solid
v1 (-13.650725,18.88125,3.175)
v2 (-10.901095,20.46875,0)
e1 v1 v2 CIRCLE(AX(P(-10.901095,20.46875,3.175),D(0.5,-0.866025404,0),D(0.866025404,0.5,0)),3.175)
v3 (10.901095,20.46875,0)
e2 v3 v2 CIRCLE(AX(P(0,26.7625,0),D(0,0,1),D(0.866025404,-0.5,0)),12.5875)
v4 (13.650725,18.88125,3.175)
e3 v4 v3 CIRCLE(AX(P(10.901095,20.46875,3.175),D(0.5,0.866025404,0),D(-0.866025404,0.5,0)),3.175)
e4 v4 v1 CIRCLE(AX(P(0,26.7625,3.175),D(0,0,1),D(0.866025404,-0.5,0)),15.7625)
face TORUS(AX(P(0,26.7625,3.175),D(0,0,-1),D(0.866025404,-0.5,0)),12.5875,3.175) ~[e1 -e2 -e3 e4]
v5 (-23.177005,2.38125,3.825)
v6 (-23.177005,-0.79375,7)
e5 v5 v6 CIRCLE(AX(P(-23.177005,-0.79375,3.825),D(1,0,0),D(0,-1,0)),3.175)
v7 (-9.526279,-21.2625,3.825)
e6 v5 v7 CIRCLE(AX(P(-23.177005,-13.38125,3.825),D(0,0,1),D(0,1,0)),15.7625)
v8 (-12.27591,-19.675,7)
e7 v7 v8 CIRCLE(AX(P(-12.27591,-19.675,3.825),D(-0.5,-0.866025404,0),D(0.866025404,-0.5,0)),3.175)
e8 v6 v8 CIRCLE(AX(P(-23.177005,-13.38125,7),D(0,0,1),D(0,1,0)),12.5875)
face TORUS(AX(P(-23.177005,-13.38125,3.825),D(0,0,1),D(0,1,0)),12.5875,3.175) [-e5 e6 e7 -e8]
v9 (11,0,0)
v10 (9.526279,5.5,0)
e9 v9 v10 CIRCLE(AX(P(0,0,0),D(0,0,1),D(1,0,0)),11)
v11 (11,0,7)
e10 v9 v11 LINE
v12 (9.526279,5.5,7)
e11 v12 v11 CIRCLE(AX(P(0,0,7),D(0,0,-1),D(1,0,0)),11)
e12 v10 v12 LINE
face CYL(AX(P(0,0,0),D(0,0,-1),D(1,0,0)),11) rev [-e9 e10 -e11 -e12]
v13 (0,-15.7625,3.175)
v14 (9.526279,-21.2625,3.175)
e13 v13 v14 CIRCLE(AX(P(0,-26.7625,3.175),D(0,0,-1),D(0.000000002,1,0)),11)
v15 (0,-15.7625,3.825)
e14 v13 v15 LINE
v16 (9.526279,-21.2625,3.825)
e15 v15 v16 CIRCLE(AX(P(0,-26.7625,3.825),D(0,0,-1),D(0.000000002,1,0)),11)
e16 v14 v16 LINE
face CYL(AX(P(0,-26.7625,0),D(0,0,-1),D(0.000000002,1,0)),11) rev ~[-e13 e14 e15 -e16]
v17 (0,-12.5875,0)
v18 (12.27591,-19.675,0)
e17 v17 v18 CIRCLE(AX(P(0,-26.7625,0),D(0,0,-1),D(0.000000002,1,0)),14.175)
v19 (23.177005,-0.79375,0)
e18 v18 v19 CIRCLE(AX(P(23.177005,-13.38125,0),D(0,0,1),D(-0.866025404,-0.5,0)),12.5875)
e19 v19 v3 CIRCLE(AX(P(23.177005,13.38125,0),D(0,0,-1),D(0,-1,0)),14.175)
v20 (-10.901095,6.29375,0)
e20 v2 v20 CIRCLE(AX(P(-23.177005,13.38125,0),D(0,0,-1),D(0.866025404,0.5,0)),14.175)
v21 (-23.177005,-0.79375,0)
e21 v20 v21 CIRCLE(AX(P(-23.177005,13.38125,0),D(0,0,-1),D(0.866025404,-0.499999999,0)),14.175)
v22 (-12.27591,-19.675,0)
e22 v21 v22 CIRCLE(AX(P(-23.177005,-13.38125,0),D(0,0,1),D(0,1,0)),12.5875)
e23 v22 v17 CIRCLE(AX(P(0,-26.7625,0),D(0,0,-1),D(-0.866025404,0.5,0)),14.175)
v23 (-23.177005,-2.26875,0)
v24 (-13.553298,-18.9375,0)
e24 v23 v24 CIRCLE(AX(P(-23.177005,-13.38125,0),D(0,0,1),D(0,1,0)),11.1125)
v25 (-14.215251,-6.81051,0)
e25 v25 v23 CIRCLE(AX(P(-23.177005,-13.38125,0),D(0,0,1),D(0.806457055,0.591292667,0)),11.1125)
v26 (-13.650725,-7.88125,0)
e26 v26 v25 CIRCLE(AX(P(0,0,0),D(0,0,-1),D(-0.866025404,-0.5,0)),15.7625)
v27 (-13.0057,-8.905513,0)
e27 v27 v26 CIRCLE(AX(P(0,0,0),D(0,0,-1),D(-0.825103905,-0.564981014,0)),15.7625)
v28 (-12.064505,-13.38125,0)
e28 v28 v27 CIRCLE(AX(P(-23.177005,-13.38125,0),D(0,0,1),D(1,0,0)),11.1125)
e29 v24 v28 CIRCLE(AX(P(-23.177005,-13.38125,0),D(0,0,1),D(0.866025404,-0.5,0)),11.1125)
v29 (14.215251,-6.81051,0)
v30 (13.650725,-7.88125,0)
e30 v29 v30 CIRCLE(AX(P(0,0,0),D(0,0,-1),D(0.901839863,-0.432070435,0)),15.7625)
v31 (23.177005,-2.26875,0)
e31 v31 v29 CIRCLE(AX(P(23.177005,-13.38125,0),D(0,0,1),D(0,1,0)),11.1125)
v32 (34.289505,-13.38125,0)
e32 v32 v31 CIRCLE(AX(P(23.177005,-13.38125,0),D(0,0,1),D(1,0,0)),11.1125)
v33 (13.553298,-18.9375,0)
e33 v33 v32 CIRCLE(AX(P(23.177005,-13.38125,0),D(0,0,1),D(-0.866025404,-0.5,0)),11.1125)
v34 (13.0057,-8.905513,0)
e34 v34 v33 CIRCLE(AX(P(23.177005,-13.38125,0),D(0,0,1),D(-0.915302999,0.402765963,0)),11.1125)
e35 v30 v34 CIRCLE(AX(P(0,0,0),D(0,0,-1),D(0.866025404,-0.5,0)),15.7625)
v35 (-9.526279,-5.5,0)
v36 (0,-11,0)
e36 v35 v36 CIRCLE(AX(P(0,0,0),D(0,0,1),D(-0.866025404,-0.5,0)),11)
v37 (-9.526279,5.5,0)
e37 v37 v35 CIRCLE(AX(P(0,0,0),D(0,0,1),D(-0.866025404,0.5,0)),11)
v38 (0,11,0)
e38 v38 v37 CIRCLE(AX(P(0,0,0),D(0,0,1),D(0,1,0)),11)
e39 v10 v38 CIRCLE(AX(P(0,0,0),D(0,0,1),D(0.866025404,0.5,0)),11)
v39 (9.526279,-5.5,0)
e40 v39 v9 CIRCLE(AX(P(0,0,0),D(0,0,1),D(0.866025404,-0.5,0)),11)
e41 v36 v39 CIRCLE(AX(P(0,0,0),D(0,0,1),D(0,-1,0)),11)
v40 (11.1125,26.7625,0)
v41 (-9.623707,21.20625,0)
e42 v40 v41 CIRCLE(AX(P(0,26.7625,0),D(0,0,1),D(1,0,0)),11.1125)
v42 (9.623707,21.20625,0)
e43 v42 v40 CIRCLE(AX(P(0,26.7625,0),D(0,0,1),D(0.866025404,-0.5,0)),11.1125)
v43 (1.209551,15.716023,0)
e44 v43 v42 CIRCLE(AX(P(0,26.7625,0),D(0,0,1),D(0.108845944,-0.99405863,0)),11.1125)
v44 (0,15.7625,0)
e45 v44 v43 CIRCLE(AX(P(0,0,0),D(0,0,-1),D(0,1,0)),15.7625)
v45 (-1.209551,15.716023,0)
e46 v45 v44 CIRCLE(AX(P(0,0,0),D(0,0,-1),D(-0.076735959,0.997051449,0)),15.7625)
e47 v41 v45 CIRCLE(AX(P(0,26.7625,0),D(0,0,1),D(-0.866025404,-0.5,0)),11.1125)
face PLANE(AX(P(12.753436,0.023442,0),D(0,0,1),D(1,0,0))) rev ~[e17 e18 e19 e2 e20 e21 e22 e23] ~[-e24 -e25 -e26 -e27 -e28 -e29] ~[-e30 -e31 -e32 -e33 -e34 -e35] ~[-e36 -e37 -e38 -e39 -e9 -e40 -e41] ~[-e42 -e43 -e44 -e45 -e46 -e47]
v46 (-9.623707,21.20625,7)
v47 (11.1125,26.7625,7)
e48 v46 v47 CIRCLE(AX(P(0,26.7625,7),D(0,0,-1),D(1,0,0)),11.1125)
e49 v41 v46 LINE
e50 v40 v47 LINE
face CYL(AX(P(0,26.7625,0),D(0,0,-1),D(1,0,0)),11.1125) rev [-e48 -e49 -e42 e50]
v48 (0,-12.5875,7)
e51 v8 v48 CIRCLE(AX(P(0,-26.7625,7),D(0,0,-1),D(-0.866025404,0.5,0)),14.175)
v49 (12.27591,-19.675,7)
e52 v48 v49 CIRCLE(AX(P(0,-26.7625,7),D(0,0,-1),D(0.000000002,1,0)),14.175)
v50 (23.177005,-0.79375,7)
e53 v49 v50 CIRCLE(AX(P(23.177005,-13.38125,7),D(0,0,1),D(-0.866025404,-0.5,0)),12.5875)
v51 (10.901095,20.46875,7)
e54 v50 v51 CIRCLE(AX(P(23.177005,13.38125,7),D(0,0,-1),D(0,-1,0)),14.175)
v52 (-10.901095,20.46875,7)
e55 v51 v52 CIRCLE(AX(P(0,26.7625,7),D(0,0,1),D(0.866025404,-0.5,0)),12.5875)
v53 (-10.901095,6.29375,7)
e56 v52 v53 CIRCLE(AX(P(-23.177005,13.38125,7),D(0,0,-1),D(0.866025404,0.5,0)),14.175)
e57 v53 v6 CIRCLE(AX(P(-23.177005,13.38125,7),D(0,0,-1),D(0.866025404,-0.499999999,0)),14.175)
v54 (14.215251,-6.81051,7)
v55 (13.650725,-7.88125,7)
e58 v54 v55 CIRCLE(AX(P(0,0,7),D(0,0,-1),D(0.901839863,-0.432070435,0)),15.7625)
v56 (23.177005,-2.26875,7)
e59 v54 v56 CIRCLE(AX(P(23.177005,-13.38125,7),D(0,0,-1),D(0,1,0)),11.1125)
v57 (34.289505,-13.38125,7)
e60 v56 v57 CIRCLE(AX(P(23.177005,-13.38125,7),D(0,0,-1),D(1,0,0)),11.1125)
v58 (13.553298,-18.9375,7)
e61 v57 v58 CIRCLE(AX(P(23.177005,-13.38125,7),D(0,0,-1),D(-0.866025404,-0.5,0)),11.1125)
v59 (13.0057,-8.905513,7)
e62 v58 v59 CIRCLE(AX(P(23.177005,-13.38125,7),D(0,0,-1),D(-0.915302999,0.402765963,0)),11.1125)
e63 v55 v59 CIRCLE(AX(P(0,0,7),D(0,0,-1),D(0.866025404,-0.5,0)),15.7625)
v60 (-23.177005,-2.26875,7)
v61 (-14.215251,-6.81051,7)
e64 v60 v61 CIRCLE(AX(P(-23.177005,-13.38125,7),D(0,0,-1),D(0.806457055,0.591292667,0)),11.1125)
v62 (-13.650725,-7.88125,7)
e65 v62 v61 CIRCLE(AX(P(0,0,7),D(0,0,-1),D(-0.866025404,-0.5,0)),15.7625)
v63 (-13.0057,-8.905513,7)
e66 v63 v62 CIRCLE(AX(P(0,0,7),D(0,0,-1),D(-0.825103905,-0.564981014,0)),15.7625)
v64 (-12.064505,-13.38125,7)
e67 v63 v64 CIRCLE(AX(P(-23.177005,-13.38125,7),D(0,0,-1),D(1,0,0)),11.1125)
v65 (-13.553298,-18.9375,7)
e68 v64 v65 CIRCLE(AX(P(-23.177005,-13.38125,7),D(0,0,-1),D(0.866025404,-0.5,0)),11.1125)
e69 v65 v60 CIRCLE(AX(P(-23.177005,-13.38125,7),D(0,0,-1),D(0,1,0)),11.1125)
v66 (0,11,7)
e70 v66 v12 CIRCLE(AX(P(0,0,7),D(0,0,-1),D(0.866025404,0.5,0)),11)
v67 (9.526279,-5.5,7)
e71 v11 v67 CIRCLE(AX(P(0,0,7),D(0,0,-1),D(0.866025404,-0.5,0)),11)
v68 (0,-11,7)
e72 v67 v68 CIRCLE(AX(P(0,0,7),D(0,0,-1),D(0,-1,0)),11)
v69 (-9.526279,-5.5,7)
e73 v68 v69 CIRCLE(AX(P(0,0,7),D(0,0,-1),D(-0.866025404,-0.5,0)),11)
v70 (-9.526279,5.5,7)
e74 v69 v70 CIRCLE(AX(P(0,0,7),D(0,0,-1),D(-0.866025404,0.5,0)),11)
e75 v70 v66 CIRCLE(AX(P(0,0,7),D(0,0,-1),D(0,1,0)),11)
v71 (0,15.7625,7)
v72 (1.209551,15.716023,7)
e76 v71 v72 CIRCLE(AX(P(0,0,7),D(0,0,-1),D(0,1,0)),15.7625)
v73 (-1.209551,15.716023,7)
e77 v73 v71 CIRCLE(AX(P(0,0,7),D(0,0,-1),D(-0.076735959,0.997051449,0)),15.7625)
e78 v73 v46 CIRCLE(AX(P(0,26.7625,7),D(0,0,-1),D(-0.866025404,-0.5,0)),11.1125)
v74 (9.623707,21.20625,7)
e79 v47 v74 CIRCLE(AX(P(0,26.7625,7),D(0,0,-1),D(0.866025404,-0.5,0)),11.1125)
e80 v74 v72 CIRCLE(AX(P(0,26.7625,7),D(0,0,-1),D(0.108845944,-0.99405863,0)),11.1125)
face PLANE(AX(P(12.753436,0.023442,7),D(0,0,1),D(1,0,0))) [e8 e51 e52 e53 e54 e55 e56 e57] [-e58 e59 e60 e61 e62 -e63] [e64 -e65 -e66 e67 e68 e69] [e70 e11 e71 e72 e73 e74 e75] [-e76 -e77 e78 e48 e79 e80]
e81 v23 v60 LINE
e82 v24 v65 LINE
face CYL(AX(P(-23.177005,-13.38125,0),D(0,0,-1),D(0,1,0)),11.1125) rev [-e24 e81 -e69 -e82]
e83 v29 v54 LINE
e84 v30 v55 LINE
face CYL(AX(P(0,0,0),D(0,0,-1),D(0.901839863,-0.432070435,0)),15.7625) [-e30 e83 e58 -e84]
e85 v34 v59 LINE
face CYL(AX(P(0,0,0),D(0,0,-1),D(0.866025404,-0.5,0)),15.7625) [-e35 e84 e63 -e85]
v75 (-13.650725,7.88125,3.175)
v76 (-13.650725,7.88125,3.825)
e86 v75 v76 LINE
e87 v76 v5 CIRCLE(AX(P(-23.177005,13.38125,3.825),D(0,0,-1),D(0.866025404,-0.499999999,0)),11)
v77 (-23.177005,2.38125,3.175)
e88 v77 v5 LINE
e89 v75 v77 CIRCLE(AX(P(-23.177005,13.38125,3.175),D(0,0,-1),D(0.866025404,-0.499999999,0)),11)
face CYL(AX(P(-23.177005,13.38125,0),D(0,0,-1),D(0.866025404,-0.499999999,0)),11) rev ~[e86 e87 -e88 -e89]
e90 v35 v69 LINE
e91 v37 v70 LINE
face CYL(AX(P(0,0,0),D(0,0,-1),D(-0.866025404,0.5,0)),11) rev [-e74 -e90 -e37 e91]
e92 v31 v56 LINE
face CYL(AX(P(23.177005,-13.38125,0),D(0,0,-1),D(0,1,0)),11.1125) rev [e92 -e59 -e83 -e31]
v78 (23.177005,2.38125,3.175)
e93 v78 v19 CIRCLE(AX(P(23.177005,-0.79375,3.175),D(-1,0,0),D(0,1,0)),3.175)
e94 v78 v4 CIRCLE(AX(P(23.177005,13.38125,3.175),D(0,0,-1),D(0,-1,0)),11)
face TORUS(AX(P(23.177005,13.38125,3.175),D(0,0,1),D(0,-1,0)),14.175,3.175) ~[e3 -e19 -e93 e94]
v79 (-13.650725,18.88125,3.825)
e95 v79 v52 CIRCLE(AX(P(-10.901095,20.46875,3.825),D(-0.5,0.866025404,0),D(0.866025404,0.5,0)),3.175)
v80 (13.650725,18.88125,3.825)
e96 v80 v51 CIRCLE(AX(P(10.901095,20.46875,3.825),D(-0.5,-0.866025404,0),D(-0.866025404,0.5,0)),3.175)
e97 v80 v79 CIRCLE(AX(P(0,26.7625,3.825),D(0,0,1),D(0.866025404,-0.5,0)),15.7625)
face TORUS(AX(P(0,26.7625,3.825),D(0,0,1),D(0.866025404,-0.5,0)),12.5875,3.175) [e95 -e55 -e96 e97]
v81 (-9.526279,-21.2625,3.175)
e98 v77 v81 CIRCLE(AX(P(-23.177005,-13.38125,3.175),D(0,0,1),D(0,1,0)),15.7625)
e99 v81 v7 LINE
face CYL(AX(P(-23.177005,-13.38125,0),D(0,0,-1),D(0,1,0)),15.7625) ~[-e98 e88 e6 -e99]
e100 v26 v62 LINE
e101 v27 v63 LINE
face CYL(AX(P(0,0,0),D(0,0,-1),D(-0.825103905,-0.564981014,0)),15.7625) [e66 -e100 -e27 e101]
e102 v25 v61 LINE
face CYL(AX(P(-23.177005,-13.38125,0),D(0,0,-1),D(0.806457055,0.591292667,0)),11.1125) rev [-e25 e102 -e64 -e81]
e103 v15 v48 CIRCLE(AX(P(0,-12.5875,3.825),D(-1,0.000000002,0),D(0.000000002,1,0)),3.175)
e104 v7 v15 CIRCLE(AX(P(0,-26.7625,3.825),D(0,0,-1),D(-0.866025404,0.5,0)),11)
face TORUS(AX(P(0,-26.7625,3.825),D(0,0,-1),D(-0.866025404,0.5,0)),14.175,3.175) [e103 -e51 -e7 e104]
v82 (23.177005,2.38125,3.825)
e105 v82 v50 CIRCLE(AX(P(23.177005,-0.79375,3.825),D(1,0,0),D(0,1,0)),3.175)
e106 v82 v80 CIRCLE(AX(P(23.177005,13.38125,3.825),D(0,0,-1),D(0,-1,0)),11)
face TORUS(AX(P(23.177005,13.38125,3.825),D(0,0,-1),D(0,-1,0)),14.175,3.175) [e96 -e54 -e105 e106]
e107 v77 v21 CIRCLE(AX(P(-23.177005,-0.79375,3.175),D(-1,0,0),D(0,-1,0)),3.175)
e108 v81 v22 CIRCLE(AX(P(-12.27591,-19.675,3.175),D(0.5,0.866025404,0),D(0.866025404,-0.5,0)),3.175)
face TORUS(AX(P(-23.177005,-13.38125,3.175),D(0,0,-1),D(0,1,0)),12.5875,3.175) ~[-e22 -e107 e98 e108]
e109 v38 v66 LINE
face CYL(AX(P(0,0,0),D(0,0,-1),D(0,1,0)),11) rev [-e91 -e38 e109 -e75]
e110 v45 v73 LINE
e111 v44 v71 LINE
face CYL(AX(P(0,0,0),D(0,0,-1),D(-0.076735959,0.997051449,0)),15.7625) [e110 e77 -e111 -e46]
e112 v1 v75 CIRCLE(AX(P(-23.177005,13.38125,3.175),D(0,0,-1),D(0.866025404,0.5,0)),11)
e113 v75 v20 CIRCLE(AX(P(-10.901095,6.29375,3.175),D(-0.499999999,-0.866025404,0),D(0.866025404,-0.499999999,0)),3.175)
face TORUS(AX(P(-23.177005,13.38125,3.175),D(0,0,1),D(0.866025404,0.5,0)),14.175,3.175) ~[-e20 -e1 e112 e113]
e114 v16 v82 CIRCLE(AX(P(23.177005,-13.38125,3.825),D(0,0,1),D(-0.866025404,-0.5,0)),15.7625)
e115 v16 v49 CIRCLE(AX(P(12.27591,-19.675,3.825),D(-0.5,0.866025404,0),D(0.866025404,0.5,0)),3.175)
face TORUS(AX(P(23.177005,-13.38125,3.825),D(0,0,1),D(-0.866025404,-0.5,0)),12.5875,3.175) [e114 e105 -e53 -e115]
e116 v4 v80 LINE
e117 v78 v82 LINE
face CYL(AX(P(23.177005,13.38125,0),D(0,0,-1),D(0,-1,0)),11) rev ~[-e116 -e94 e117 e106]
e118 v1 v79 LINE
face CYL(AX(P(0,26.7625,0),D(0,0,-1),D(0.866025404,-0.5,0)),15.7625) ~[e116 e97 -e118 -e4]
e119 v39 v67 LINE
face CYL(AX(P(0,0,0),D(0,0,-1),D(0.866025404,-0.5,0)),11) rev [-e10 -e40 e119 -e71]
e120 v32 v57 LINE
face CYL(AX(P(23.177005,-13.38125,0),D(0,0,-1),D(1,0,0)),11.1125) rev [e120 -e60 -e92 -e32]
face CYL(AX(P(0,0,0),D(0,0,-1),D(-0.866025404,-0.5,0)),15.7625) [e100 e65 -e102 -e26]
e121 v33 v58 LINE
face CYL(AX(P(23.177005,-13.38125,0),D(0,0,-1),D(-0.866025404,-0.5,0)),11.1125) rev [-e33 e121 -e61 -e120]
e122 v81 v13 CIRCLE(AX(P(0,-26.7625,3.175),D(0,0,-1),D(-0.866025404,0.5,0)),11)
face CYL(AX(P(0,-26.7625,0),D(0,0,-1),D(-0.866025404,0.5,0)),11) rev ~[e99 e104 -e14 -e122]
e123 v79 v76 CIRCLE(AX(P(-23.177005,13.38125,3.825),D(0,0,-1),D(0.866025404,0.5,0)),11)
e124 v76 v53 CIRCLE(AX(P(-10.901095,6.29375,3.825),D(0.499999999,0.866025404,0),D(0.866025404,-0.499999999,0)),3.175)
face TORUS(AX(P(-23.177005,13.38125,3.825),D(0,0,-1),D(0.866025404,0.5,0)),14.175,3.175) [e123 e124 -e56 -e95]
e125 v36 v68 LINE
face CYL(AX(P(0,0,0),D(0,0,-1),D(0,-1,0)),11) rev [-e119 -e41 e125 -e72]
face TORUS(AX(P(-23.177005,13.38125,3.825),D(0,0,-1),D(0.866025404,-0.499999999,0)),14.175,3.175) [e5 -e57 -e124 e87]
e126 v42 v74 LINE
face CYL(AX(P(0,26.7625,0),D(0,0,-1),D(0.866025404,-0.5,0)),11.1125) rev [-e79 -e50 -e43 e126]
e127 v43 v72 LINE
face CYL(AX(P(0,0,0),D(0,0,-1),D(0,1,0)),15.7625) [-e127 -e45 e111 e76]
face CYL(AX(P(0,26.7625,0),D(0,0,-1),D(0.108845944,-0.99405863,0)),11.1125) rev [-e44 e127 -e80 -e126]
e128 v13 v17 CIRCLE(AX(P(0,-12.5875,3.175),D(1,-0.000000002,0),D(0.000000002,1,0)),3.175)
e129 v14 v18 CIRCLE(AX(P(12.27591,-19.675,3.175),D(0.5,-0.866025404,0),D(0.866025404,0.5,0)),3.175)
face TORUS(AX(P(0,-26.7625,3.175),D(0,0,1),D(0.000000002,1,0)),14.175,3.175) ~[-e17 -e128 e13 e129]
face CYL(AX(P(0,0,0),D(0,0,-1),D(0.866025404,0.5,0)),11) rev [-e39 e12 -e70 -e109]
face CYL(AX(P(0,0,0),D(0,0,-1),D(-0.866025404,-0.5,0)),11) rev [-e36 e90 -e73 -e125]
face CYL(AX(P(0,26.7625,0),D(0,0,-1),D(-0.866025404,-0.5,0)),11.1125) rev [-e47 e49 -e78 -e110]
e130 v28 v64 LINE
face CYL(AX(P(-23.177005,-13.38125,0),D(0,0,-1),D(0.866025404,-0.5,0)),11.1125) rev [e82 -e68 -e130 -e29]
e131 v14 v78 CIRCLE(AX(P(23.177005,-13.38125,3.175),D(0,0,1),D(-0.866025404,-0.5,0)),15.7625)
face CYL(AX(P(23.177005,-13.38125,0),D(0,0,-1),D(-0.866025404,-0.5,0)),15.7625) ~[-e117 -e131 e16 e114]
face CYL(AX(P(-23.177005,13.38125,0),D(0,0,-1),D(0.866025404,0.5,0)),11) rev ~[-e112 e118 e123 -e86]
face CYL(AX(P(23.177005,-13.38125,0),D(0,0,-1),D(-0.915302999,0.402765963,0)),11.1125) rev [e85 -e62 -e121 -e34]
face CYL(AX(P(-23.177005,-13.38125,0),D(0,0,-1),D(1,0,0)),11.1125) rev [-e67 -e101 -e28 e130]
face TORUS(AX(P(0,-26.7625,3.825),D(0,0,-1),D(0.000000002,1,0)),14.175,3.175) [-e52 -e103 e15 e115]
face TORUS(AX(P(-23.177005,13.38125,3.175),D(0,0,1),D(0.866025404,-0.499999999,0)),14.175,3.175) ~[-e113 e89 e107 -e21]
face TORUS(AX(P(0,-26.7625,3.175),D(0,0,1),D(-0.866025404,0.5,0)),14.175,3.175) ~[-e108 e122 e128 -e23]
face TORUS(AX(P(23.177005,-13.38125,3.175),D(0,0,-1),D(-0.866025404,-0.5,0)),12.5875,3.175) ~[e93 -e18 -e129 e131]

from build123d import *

# Parameters (mm, degrees)
F1_DEPTH = 7
F2_R     = 3.175
F3_DEPTH = 7.001


with BuildPart() as f1:
    # F0 (on Top) → F1 (new body)
    with BuildSketch(Plane.XY):
        with BuildLine():
            ThreePointArc((9.5262794416, 5.5), (10.6251840892, 2.8470094961), (11, 0))
            ThreePointArc((11, 0), (10.6251840892, -2.8470094961), (9.5262794416, -5.5))
            Line((9.5262794416, -5.5), (13.5532975692, -7.825))
            ThreePointArc((13.5532975692, -7.825), (13.8704404913, -7.3087286342), (14.2152508461, -6.8105102329))
            ThreePointArc((14.2152508461, -6.8105102329), (15.3708213462, -3.4920276909), (15.7625, 0))
            ThreePointArc((15.7625, 0), (15.7603228949, 0.2619704177), (15.7537921808, 0.5238684691))
            ThreePointArc((15.7537921808, 0.5238684691), (15.1554999741, 4.3321157401), (13.6507254004, 7.8812500464))
            Line((13.6507254272, 7.88125), (9.5262794416, 5.5))
        make_face()
        with BuildLine():
            ThreePointArc((0, 11), (5.5, 9.5262794416), (9.5262794416, 5.5))
            Line((9.5262794416, 5.5), (13.6507254272, 7.88125))
            ThreePointArc((13.6507254004, 7.8812500464), (11.3294722329, 10.9589901531), (8.3305794929, 13.38125))
            ThreePointArc((8.3305794929, 13.38125), (4.9108361907, 14.9779869862), (1.2095505486, 15.7160234703))
            ThreePointArc((1.2095505486, 15.7160234703), (0.6056755791, 15.6665181443), (0, 15.65))
            Line((0, 15.65), (0, 11))
        make_face()
        with BuildLine():
            Line((13.5532975692, -7.825), (9.5262794416, -5.5))
            ThreePointArc((9.5262794416, -5.5), (5.5, -9.5262794416), (0, -11))
            Line((0, -11), (0, -15.7625))
            ThreePointArc((2.65e-08, -15.7625), (3.8260277428, -15.2911058449), (7.4232126879, -13.9051184691))
            ThreePointArc((7.4232126879, -13.9051184691), (10.5158991322, -11.7419023881), (13.0057002975, -8.9055132374))
            ThreePointArc((13.0057002975, -8.9055132374), (13.2647649122, -8.3577895101), (13.5532975692, -7.825))
        make_face()
        with BuildLine():
            ThreePointArc((-9.5262794416, 5.5), (-5.5, 9.5262794416), (0, 11))
            Line((0, 11), (0, 15.65))
            ThreePointArc((0, 15.65), (-0.6056755791, 15.6665181443), (-1.2095505486, 15.7160234703))
            ThreePointArc((-1.2095505486, 15.7160234703), (-4.9108361907, 14.9779869862), (-8.3305794929, 13.38125))
            ThreePointArc((-8.3305794929, 13.38125), (-11.3294722485, 10.9589901369), (-13.6507254229, 7.8812500074))
            Line((-13.6507254272, 7.88125), (-9.5262794416, 5.5))
        make_face()
        with BuildLine():
            ThreePointArc((23.1770048688, 2.38125), (17.6770048456, 3.8549705718), (13.6507254004, 7.8812500464))
            ThreePointArc((13.6507254004, 7.8812500464), (15.1554999741, 4.3321157401), (15.7537921808, 0.5238684691))
            ThreePointArc((15.7537921808, 0.5238684691), (19.3509771388, 1.9098558482), (23.1770048688, 2.38125))
        make_face()
        with BuildLine():
            ThreePointArc((8.3305794929, 13.38125), (11.3294722329, 10.9589901531), (13.6507254004, 7.8812500464))
            ThreePointArc((13.6507254004, 7.8812500464), (12.1770048688, 13.3812500268), (13.6507254272, 18.88125))
            ThreePointArc((13.6507254272, 18.88125), (11.3294722515, 15.8035098662), (8.3305794929, 13.38125))
        make_face()
        with BuildLine():
            Line((0, -15.7625), (0, -11))
            ThreePointArc((0, -11), (-5.5, -9.5262794416), (-9.5262794416, -5.5))
            Line((-9.5262794416, -5.5), (-13.5532975692, -7.825))
            ThreePointArc((-13.5532975692, -7.825), (-13.2647649122, -8.3577895101), (-13.0057002975, -8.9055132374))
            ThreePointArc((-13.0057002975, -8.9055132374), (-10.5158991322, -11.7419023881), (-7.4232126879, -13.9051184691))
            ThreePointArc((-7.4232126879, -13.9051184691), (-3.8260277171, -15.2911058514), (2.65e-08, -15.7625))
        make_face()
        with BuildLine():
            ThreePointArc((-9.5262794416, -5.5), (-11, 0), (-9.5262794416, 5.5))
            Line((-9.5262794416, 5.5), (-13.6507254272, 7.88125))
            ThreePointArc((-13.6507254229, 7.8812500074), (-15.1554999803, 4.3321157185), (-15.7537921808, 0.5238684691))
            ThreePointArc((-15.7537921808, 0.5238684691), (-15.4267353229, -3.2360845981), (-14.2152508461, -6.8105102329))
            ThreePointArc((-14.2152508461, -6.8105102329), (-13.8704404913, -7.3087286342), (-13.5532975692, -7.825))
            Line((-13.5532975692, -7.825), (-9.5262794416, -5.5))
        make_face()
        with BuildLine():
            ThreePointArc((23.1770048688, 2.38125), (19.3509771388, 1.9098558482), (15.7537921808, 0.5238684691))
            ThreePointArc((15.7537921808, 0.5238684691), (15.7603228949, 0.2619704177), (15.7625, 0))
            ThreePointArc((15.7625, 0), (15.3708213462, -3.4920276909), (14.2152508461, -6.8105102329))
            ThreePointArc((14.2152508461, -6.8105102329), (18.1535443788, -3.4690100435), (23.1770048688, -2.26875))
            Line((23.1770048688, -2.26875), (23.1770048688, 2.38125))
        make_face()
        with BuildLine():
            ThreePointArc((1.2095505486, 15.7160234703), (4.9108361907, 14.9779869862), (8.3305794929, 13.38125))
            ThreePointArc((8.3305794929, 13.38125), (11.3294722515, 15.8035098662), (13.6507254272, 18.88125))
            Line((13.6507254272, 18.88125), (9.6237072996, 21.20625))
            ThreePointArc((9.6237072996, 21.20625), (6.0725213658, 17.4559356225), (1.2095505486, 15.7160234703))
        make_face()
        with BuildLine():
            Line((9.6237072996, 21.20625), (13.6507254272, 18.88125))
            ThreePointArc((13.6507254272, 18.88125), (0, 42.525), (-13.6507254272, 18.88125))
            Line((-13.6507254272, 18.88125), (-9.6237072996, 21.20625))
            ThreePointArc((-9.6237072996, 21.20625), (-2.8761266387, 37.4963507446), (11.1125, 26.7625))
            ThreePointArc((11.1125, 26.7625), (10.7338507446, 23.8863733613), (9.6237072996, 21.20625))
        make_face()
        with BuildLine():
            ThreePointArc((9.5262794416, -21.2625), (36.8277302959, -21.2625), (23.1770048688, 2.38125))
            Line((23.1770048688, 2.38125), (23.1770048688, -2.26875))
            ThreePointArc((23.1770048688, -2.26875), (31.0347289747, -5.5235258941), (34.2895048688, -13.38125))
            ThreePointArc((34.2895048688, -13.38125), (26.0531315075, -24.1151007446), (13.5532975692, -18.9375))
            Line((13.5532975692, -18.9375), (9.5262794416, -21.2625))
        make_face()
        with BuildLine():
            ThreePointArc((-9.5262794416, -21.2625), (-5.4999999885, -17.2362205517), (2.65e-08, -15.7625))
            ThreePointArc((2.65e-08, -15.7625), (-3.8260277171, -15.2911058514), (-7.4232126879, -13.9051184691))
            ThreePointArc((-7.4232126879, -13.9051184691), (-8.0215048873, -17.7133657143), (-9.5262794416, -21.2625))
        make_face()
        with BuildLine():
            ThreePointArc((7.4232126879, -13.9051184691), (3.8260277428, -15.2911058449), (2.65e-08, -15.7625))
            ThreePointArc((2.65e-08, -15.7625), (5.5000000115, -17.236220565), (9.5262794416, -21.2625))
            ThreePointArc((9.5262794416, -21.2625), (8.0215048873, -17.7133657143), (7.4232126879, -13.9051184691))
        make_face()
        with BuildLine():
            ThreePointArc((13.5532975692, -18.9375), (12.081023013, -13.9869255791), (13.0057002975, -8.9055132374))
            ThreePointArc((13.0057002975, -8.9055132374), (10.5158991322, -11.7419023881), (7.4232126879, -13.9051184691))
            ThreePointArc((7.4232126879, -13.9051184691), (8.0215048873, -17.7133657143), (9.5262794416, -21.2625))
            Line((9.5262794416, -21.2625), (13.5532975692, -18.9375))
        make_face()
        with BuildLine():
            ThreePointArc((-13.6507254272, 18.88125), (-12.1770048688, 13.3812500043), (-13.6507254229, 7.8812500074))
            ThreePointArc((-13.6507254229, 7.8812500074), (-11.3294722485, 10.9589901369), (-8.3305794929, 13.38125))
            ThreePointArc((-8.3305794929, 13.38125), (-11.3294722515, 15.8035098662), (-13.6507254272, 18.88125))
        make_face()
        with BuildLine():
            ThreePointArc((-15.7537921808, 0.5238684691), (-15.1554999803, 4.3321157185), (-13.6507254229, 7.8812500074))
            ThreePointArc((-13.6507254229, 7.8812500074), (-17.6770048651, 3.8549705605), (-23.1770048688, 2.38125))
            ThreePointArc((-23.1770048688, 2.38125), (-19.3509771388, 1.9098558482), (-15.7537921808, 0.5238684691))
        make_face()
        with BuildLine():
            ThreePointArc((-8.3305794929, 13.38125), (-4.9108361907, 14.9779869862), (-1.2095505486, 15.7160234703))
            ThreePointArc((-1.2095505486, 15.7160234703), (-6.0725213658, 17.4559356225), (-9.6237072996, 21.20625))
            Line((-9.6237072996, 21.20625), (-13.6507254272, 18.88125))
            ThreePointArc((-13.6507254272, 18.88125), (-11.3294722515, 15.8035098662), (-8.3305794929, 13.38125))
        make_face()
        with BuildLine():
            ThreePointArc((-9.5262794416, -21.2625), (-8.0215048873, -17.7133657143), (-7.4232126879, -13.9051184691))
            ThreePointArc((-7.4232126879, -13.9051184691), (-10.5158991322, -11.7419023881), (-13.0057002975, -8.9055132374))
            ThreePointArc((-13.0057002975, -8.9055132374), (-12.3023490513, -11.0944362558), (-12.0645048688, -13.38125))
            ThreePointArc((-12.0645048688, -13.38125), (-12.4431541241, -16.2573766387), (-13.5532975692, -18.9375))
            Line((-13.5532975692, -18.9375), (-9.5262794416, -21.2625))
        make_face()
        with BuildLine():
            ThreePointArc((-23.1770048688, 2.38125), (-36.8277302959, -21.2625), (-9.5262794416, -21.2625))
            Line((-9.5262794416, -21.2625), (-13.5532975692, -18.9375))
            ThreePointArc((-13.5532975692, -18.9375), (-32.8007121683, -18.9375), (-23.1770048688, -2.26875))
            Line((-23.1770048688, -2.26875), (-23.1770048688, 2.38125))
        make_face()
        with BuildLine():
            ThreePointArc((-14.2152508461, -6.8105102329), (-15.4267353229, -3.2360845981), (-15.7537921808, 0.5238684691))
            ThreePointArc((-15.7537921808, 0.5238684691), (-19.3509771388, 1.9098558482), (-23.1770048688, 2.38125))
            Line((-23.1770048688, 2.38125), (-23.1770048688, -2.26875))
            ThreePointArc((-23.1770048688, -2.26875), (-18.1535443788, -3.4690100435), (-14.2152508461, -6.8105102329))
        make_face()
        with BuildLine():
            ThreePointArc((-23.1770048688, -2.26875), (-32.8007121683, -18.9375), (-13.5532975692, -18.9375))
            Line((-13.5532975692, -18.9375), (-23.1770048688, -13.38125))
            Line((-23.1770048688, -13.38125), (-23.1770048688, -2.26875))
        make_face()
        with BuildLine():
            ThreePointArc((-12.0645048688, -13.38125), (-12.3023490513, -11.0944362558), (-13.0057002975, -8.9055132374))
            ThreePointArc((-13.0057002975, -8.9055132374), (-13.3380484666, -8.3995755459), (-13.6507254272, -7.88125))
            Line((-13.6507254272, -7.88125), (-23.1770048688, -13.38125))
            Line((-23.1770048688, -13.38125), (-13.5532975692, -18.9375))
            ThreePointArc((-13.5532975692, -18.9375), (-12.4431541241, -16.2573766387), (-12.0645048688, -13.38125))
        make_face()
        with BuildLine():
            ThreePointArc((34.2895048688, -13.38125), (31.0347289747, -5.5235258941), (23.1770048688, -2.26875))
            Line((23.1770048688, -2.26875), (23.1770048688, -13.38125))
            Line((23.1770048688, -13.38125), (13.5532975692, -18.9375))
            ThreePointArc((13.5532975692, -18.9375), (26.0531315075, -24.1151007446), (34.2895048688, -13.38125))
        make_face()
        with BuildLine():
            ThreePointArc((13.6507254272, -7.88125), (13.3380484666, -8.3995755459), (13.0057002975, -8.9055132374))
            ThreePointArc((13.0057002975, -8.9055132374), (12.081023013, -13.9869255791), (13.5532975692, -18.9375))
            Line((13.5532975692, -18.9375), (23.1770048688, -13.38125))
            Line((23.1770048688, -13.38125), (13.6507254272, -7.88125))
        make_face()
        with BuildLine():
            ThreePointArc((23.1770048688, -2.26875), (18.1535443788, -3.4690100435), (14.2152508461, -6.8105102329))
            ThreePointArc((14.2152508461, -6.8105102329), (13.9432700371, -7.351301036), (13.6507254272, -7.88125))
            Line((13.6507254272, -7.88125), (23.1770048688, -13.38125))
            Line((23.1770048688, -13.38125), (23.1770048688, -2.26875))
        make_face()
        with BuildLine():
            ThreePointArc((-13.6507254272, -7.88125), (-13.9432700371, -7.351301036), (-14.2152508461, -6.8105102329))
            ThreePointArc((-14.2152508461, -6.8105102329), (-18.1535443788, -3.4690100435), (-23.1770048688, -2.26875))
            Line((-23.1770048688, -2.26875), (-23.1770048688, -13.38125))
            Line((-23.1770048688, -13.38125), (-13.6507254272, -7.88125))
        make_face()
        with BuildLine():
            ThreePointArc((0, -11), (5.5, -9.5262794416), (9.5262794416, -5.5))
            Line((9.5262794416, -5.5), (0, 0))
            Line((0, 0), (0, -11))
        make_face()
        with BuildLine():
            Line((0, -11), (0, 0))
            Line((0, 0), (-9.5262794416, -5.5))
            ThreePointArc((-9.5262794416, -5.5), (-5.5, -9.5262794416), (0, -11))
        make_face()
        with BuildLine():
            Line((-9.5262794416, -5.5), (0, 0))
            Line((0, 0), (-9.5262794416, 5.5))
            ThreePointArc((-9.5262794416, 5.5), (-11, 0), (-9.5262794416, -5.5))
        make_face()
        with BuildLine():
            Line((0, 0), (0, 11))
            ThreePointArc((0, 11), (-5.5, 9.5262794416), (-9.5262794416, 5.5))
            Line((-9.5262794416, 5.5), (0, 0))
        make_face()
        with BuildLine():
            Line((0, 0), (9.5262794416, 5.5))
            ThreePointArc((9.5262794416, 5.5), (5.5, 9.5262794416), (0, 11))
            Line((0, 11), (0, 0))
        make_face()
        with BuildLine():
            ThreePointArc((9.5262794416, -5.5), (10.6251840892, -2.8470094961), (11, 0))
            ThreePointArc((11, 0), (10.6251840892, 2.8470094961), (9.5262794416, 5.5))
            Line((9.5262794416, 5.5), (0, 0))
            Line((0, 0), (9.5262794416, -5.5))
        make_face()
        with BuildLine():
            Line((0, 26.7625), (0, 15.7625))
            ThreePointArc((0, 15.7625), (0.6052215705, 15.750876582), (1.2095505486, 15.7160234703))
            ThreePointArc((1.2095505486, 15.7160234703), (6.0725213658, 17.4559356225), (9.6237072996, 21.20625))
            Line((9.6237072996, 21.20625), (0, 26.7625))
        make_face()
        with BuildLine():
            ThreePointArc((-1.2095505486, 15.7160234703), (-0.6052215705, 15.750876582), (0, 15.7625))
            Line((0, 15.7625), (0, 26.7625))
            Line((0, 26.7625), (-9.6237072996, 21.20625))
            ThreePointArc((-9.6237072996, 21.20625), (-6.0725213658, 17.4559356225), (-1.2095505486, 15.7160234703))
        make_face()
        with BuildLine():
            Line((0, 26.7625), (9.6237072996, 21.20625))
            ThreePointArc((9.6237072996, 21.20625), (10.7338507446, 23.8863733613), (11.1125, 26.7625))
            ThreePointArc((11.1125, 26.7625), (-2.8761266387, 37.4963507446), (-9.6237072996, 21.20625))
            Line((-9.6237072996, 21.20625), (0, 26.7625))
        make_face()
        with BuildLine():
            Line((0, 15.7625), (0, 15.65))
            ThreePointArc((0, 15.65), (0.6056755791, 15.6665181443), (1.2095505486, 15.7160234703))
            ThreePointArc((1.2095505486, 15.7160234703), (0.6052215705, 15.750876582), (0, 15.7625))
        make_face()
        with BuildLine():
            ThreePointArc((-1.2095505486, 15.7160234703), (-0.6056755791, 15.6665181443), (0, 15.65))
            Line((0, 15.65), (0, 15.7625))
            ThreePointArc((0, 15.7625), (-0.6052215705, 15.750876582), (-1.2095505486, 15.7160234703))
        make_face()
        with BuildLine():
            ThreePointArc((-13.0057002975, -8.9055132374), (-13.2647649122, -8.3577895101), (-13.5532975692, -7.825))
            Line((-13.5532975692, -7.825), (-13.6507254272, -7.88125))
            ThreePointArc((-13.6507254272, -7.88125), (-13.3380484666, -8.3995755459), (-13.0057002975, -8.9055132374))
        make_face()
        with BuildLine():
            Line((-13.6507254272, -7.88125), (-13.5532975692, -7.825))
            ThreePointArc((-13.5532975692, -7.825), (-13.8704404913, -7.3087286342), (-14.2152508461, -6.8105102329))
            ThreePointArc((-14.2152508461, -6.8105102329), (-13.9432700371, -7.351301036), (-13.6507254272, -7.88125))
        make_face()
        with BuildLine():
            ThreePointArc((14.2152508461, -6.8105102329), (13.8704404913, -7.3087286342), (13.5532975692, -7.825))
            Line((13.5532975692, -7.825), (13.6507254272, -7.88125))
            ThreePointArc((13.6507254272, -7.88125), (13.9432700371, -7.351301036), (14.2152508461, -6.8105102329))
        make_face()
        with BuildLine():
            Line((13.6507254272, -7.88125), (13.5532975692, -7.825))
            ThreePointArc((13.5532975692, -7.825), (13.2647649122, -8.3577895101), (13.0057002975, -8.9055132374))
            ThreePointArc((13.0057002975, -8.9055132374), (13.3380484666, -8.3995755459), (13.6507254272, -7.88125))
        make_face()
    extrude(amount=F1_DEPTH)

    # F2
    f2_edges = [f1.edges().sort_by_distance(p)[0] for p in [
        (-13.650725, 7.88125, 7),
        (-36.82773, -21.2625, 7),
        (0, -15.7625, 7),
        (36.82773, -21.2625, 7),
        (13.650725, 7.88125, 7),
        (0, 42.525, 7),
        (-13.650725, 7.88125, 0),
        (-36.82773, -21.2625, 0),
        (0, -15.7625, 0),
        (36.82773, -21.2625, 0),
        (13.650725, 7.88125, 0),
        (0, 42.525, 0),
    ]]
    fillet(f2_edges, radius=F2_R)

    # F0 (on Top) → F3 (cut, through all)
    with BuildSketch(Plane.XY):
        with BuildLine():
            ThreePointArc((23.1770048688, -2.26875), (18.1535443788, -3.4690100435), (14.2152508461, -6.8105102329))
            ThreePointArc((14.2152508461, -6.8105102329), (13.9432700371, -7.351301036), (13.6507254272, -7.88125))
            Line((13.6507254272, -7.88125), (23.1770048688, -13.38125))
            Line((23.1770048688, -13.38125), (23.1770048688, -2.26875))
        make_face()
        with BuildLine():
            ThreePointArc((34.2895048688, -13.38125), (31.0347289747, -5.5235258941), (23.1770048688, -2.26875))
            Line((23.1770048688, -2.26875), (23.1770048688, -13.38125))
            Line((23.1770048688, -13.38125), (13.5532975692, -18.9375))
            ThreePointArc((13.5532975692, -18.9375), (26.0531315075, -24.1151007446), (34.2895048688, -13.38125))
        make_face()
        with BuildLine():
            ThreePointArc((13.6507254272, -7.88125), (13.3380484666, -8.3995755459), (13.0057002975, -8.9055132374))
            ThreePointArc((13.0057002975, -8.9055132374), (12.081023013, -13.9869255791), (13.5532975692, -18.9375))
            Line((13.5532975692, -18.9375), (23.1770048688, -13.38125))
            Line((23.1770048688, -13.38125), (13.6507254272, -7.88125))
        make_face()
        with BuildLine():
            ThreePointArc((9.5262794416, -5.5), (10.6251840892, -2.8470094961), (11, 0))
            ThreePointArc((11, 0), (10.6251840892, 2.8470094961), (9.5262794416, 5.5))
            Line((9.5262794416, 5.5), (0, 0))
            Line((0, 0), (9.5262794416, -5.5))
        make_face()
        with BuildLine():
            Line((0, 0), (0, 11))
            ThreePointArc((0, 11), (-5.5, 9.5262794416), (-9.5262794416, 5.5))
            Line((-9.5262794416, 5.5), (0, 0))
        make_face()
        with BuildLine():
            Line((0, 0), (9.5262794416, 5.5))
            ThreePointArc((9.5262794416, 5.5), (5.5, 9.5262794416), (0, 11))
            Line((0, 11), (0, 0))
        make_face()
        with BuildLine():
            ThreePointArc((0, -11), (5.5, -9.5262794416), (9.5262794416, -5.5))
            Line((9.5262794416, -5.5), (0, 0))
            Line((0, 0), (0, -11))
        make_face()
        with BuildLine():
            Line((0, -11), (0, 0))
            Line((0, 0), (-9.5262794416, -5.5))
            ThreePointArc((-9.5262794416, -5.5), (-5.5, -9.5262794416), (0, -11))
        make_face()
        with BuildLine():
            Line((-9.5262794416, -5.5), (0, 0))
            Line((0, 0), (-9.5262794416, 5.5))
            ThreePointArc((-9.5262794416, 5.5), (-11, 0), (-9.5262794416, -5.5))
        make_face()
        with BuildLine():
            ThreePointArc((-13.6507254272, -7.88125), (-13.9432700371, -7.351301036), (-14.2152508461, -6.8105102329))
            ThreePointArc((-14.2152508461, -6.8105102329), (-18.1535443788, -3.4690100435), (-23.1770048688, -2.26875))
            Line((-23.1770048688, -2.26875), (-23.1770048688, -13.38125))
            Line((-23.1770048688, -13.38125), (-13.6507254272, -7.88125))
        make_face()
        with BuildLine():
            ThreePointArc((-12.0645048688, -13.38125), (-12.3023490513, -11.0944362558), (-13.0057002975, -8.9055132374))
            ThreePointArc((-13.0057002975, -8.9055132374), (-13.3380484666, -8.3995755459), (-13.6507254272, -7.88125))
            Line((-13.6507254272, -7.88125), (-23.1770048688, -13.38125))
            Line((-23.1770048688, -13.38125), (-13.5532975692, -18.9375))
            ThreePointArc((-13.5532975692, -18.9375), (-12.4431541241, -16.2573766387), (-12.0645048688, -13.38125))
        make_face()
        with BuildLine():
            ThreePointArc((-23.1770048688, -2.26875), (-32.8007121683, -18.9375), (-13.5532975692, -18.9375))
            Line((-13.5532975692, -18.9375), (-23.1770048688, -13.38125))
            Line((-23.1770048688, -13.38125), (-23.1770048688, -2.26875))
        make_face()
        with BuildLine():
            Line((0, 26.7625), (0, 15.7625))
            ThreePointArc((0, 15.7625), (0.6052215705, 15.750876582), (1.2095505486, 15.7160234703))
            ThreePointArc((1.2095505486, 15.7160234703), (6.0725213658, 17.4559356225), (9.6237072996, 21.20625))
            Line((9.6237072996, 21.20625), (0, 26.7625))
        make_face()
        with BuildLine():
            ThreePointArc((-1.2095505486, 15.7160234703), (-0.6052215705, 15.750876582), (0, 15.7625))
            Line((0, 15.7625), (0, 26.7625))
            Line((0, 26.7625), (-9.6237072996, 21.20625))
            ThreePointArc((-9.6237072996, 21.20625), (-6.0725213658, 17.4559356225), (-1.2095505486, 15.7160234703))
        make_face()
        with BuildLine():
            Line((0, 26.7625), (9.6237072996, 21.20625))
            ThreePointArc((9.6237072996, 21.20625), (10.7338507446, 23.8863733613), (11.1125, 26.7625))
            ThreePointArc((11.1125, 26.7625), (-2.8761266387, 37.4963507446), (-9.6237072996, 21.20625))
            Line((-9.6237072996, 21.20625), (0, 26.7625))
        make_face()
    extrude(amount=F3_DEPTH, mode=Mode.SUBTRACT)


solid = f1.part
